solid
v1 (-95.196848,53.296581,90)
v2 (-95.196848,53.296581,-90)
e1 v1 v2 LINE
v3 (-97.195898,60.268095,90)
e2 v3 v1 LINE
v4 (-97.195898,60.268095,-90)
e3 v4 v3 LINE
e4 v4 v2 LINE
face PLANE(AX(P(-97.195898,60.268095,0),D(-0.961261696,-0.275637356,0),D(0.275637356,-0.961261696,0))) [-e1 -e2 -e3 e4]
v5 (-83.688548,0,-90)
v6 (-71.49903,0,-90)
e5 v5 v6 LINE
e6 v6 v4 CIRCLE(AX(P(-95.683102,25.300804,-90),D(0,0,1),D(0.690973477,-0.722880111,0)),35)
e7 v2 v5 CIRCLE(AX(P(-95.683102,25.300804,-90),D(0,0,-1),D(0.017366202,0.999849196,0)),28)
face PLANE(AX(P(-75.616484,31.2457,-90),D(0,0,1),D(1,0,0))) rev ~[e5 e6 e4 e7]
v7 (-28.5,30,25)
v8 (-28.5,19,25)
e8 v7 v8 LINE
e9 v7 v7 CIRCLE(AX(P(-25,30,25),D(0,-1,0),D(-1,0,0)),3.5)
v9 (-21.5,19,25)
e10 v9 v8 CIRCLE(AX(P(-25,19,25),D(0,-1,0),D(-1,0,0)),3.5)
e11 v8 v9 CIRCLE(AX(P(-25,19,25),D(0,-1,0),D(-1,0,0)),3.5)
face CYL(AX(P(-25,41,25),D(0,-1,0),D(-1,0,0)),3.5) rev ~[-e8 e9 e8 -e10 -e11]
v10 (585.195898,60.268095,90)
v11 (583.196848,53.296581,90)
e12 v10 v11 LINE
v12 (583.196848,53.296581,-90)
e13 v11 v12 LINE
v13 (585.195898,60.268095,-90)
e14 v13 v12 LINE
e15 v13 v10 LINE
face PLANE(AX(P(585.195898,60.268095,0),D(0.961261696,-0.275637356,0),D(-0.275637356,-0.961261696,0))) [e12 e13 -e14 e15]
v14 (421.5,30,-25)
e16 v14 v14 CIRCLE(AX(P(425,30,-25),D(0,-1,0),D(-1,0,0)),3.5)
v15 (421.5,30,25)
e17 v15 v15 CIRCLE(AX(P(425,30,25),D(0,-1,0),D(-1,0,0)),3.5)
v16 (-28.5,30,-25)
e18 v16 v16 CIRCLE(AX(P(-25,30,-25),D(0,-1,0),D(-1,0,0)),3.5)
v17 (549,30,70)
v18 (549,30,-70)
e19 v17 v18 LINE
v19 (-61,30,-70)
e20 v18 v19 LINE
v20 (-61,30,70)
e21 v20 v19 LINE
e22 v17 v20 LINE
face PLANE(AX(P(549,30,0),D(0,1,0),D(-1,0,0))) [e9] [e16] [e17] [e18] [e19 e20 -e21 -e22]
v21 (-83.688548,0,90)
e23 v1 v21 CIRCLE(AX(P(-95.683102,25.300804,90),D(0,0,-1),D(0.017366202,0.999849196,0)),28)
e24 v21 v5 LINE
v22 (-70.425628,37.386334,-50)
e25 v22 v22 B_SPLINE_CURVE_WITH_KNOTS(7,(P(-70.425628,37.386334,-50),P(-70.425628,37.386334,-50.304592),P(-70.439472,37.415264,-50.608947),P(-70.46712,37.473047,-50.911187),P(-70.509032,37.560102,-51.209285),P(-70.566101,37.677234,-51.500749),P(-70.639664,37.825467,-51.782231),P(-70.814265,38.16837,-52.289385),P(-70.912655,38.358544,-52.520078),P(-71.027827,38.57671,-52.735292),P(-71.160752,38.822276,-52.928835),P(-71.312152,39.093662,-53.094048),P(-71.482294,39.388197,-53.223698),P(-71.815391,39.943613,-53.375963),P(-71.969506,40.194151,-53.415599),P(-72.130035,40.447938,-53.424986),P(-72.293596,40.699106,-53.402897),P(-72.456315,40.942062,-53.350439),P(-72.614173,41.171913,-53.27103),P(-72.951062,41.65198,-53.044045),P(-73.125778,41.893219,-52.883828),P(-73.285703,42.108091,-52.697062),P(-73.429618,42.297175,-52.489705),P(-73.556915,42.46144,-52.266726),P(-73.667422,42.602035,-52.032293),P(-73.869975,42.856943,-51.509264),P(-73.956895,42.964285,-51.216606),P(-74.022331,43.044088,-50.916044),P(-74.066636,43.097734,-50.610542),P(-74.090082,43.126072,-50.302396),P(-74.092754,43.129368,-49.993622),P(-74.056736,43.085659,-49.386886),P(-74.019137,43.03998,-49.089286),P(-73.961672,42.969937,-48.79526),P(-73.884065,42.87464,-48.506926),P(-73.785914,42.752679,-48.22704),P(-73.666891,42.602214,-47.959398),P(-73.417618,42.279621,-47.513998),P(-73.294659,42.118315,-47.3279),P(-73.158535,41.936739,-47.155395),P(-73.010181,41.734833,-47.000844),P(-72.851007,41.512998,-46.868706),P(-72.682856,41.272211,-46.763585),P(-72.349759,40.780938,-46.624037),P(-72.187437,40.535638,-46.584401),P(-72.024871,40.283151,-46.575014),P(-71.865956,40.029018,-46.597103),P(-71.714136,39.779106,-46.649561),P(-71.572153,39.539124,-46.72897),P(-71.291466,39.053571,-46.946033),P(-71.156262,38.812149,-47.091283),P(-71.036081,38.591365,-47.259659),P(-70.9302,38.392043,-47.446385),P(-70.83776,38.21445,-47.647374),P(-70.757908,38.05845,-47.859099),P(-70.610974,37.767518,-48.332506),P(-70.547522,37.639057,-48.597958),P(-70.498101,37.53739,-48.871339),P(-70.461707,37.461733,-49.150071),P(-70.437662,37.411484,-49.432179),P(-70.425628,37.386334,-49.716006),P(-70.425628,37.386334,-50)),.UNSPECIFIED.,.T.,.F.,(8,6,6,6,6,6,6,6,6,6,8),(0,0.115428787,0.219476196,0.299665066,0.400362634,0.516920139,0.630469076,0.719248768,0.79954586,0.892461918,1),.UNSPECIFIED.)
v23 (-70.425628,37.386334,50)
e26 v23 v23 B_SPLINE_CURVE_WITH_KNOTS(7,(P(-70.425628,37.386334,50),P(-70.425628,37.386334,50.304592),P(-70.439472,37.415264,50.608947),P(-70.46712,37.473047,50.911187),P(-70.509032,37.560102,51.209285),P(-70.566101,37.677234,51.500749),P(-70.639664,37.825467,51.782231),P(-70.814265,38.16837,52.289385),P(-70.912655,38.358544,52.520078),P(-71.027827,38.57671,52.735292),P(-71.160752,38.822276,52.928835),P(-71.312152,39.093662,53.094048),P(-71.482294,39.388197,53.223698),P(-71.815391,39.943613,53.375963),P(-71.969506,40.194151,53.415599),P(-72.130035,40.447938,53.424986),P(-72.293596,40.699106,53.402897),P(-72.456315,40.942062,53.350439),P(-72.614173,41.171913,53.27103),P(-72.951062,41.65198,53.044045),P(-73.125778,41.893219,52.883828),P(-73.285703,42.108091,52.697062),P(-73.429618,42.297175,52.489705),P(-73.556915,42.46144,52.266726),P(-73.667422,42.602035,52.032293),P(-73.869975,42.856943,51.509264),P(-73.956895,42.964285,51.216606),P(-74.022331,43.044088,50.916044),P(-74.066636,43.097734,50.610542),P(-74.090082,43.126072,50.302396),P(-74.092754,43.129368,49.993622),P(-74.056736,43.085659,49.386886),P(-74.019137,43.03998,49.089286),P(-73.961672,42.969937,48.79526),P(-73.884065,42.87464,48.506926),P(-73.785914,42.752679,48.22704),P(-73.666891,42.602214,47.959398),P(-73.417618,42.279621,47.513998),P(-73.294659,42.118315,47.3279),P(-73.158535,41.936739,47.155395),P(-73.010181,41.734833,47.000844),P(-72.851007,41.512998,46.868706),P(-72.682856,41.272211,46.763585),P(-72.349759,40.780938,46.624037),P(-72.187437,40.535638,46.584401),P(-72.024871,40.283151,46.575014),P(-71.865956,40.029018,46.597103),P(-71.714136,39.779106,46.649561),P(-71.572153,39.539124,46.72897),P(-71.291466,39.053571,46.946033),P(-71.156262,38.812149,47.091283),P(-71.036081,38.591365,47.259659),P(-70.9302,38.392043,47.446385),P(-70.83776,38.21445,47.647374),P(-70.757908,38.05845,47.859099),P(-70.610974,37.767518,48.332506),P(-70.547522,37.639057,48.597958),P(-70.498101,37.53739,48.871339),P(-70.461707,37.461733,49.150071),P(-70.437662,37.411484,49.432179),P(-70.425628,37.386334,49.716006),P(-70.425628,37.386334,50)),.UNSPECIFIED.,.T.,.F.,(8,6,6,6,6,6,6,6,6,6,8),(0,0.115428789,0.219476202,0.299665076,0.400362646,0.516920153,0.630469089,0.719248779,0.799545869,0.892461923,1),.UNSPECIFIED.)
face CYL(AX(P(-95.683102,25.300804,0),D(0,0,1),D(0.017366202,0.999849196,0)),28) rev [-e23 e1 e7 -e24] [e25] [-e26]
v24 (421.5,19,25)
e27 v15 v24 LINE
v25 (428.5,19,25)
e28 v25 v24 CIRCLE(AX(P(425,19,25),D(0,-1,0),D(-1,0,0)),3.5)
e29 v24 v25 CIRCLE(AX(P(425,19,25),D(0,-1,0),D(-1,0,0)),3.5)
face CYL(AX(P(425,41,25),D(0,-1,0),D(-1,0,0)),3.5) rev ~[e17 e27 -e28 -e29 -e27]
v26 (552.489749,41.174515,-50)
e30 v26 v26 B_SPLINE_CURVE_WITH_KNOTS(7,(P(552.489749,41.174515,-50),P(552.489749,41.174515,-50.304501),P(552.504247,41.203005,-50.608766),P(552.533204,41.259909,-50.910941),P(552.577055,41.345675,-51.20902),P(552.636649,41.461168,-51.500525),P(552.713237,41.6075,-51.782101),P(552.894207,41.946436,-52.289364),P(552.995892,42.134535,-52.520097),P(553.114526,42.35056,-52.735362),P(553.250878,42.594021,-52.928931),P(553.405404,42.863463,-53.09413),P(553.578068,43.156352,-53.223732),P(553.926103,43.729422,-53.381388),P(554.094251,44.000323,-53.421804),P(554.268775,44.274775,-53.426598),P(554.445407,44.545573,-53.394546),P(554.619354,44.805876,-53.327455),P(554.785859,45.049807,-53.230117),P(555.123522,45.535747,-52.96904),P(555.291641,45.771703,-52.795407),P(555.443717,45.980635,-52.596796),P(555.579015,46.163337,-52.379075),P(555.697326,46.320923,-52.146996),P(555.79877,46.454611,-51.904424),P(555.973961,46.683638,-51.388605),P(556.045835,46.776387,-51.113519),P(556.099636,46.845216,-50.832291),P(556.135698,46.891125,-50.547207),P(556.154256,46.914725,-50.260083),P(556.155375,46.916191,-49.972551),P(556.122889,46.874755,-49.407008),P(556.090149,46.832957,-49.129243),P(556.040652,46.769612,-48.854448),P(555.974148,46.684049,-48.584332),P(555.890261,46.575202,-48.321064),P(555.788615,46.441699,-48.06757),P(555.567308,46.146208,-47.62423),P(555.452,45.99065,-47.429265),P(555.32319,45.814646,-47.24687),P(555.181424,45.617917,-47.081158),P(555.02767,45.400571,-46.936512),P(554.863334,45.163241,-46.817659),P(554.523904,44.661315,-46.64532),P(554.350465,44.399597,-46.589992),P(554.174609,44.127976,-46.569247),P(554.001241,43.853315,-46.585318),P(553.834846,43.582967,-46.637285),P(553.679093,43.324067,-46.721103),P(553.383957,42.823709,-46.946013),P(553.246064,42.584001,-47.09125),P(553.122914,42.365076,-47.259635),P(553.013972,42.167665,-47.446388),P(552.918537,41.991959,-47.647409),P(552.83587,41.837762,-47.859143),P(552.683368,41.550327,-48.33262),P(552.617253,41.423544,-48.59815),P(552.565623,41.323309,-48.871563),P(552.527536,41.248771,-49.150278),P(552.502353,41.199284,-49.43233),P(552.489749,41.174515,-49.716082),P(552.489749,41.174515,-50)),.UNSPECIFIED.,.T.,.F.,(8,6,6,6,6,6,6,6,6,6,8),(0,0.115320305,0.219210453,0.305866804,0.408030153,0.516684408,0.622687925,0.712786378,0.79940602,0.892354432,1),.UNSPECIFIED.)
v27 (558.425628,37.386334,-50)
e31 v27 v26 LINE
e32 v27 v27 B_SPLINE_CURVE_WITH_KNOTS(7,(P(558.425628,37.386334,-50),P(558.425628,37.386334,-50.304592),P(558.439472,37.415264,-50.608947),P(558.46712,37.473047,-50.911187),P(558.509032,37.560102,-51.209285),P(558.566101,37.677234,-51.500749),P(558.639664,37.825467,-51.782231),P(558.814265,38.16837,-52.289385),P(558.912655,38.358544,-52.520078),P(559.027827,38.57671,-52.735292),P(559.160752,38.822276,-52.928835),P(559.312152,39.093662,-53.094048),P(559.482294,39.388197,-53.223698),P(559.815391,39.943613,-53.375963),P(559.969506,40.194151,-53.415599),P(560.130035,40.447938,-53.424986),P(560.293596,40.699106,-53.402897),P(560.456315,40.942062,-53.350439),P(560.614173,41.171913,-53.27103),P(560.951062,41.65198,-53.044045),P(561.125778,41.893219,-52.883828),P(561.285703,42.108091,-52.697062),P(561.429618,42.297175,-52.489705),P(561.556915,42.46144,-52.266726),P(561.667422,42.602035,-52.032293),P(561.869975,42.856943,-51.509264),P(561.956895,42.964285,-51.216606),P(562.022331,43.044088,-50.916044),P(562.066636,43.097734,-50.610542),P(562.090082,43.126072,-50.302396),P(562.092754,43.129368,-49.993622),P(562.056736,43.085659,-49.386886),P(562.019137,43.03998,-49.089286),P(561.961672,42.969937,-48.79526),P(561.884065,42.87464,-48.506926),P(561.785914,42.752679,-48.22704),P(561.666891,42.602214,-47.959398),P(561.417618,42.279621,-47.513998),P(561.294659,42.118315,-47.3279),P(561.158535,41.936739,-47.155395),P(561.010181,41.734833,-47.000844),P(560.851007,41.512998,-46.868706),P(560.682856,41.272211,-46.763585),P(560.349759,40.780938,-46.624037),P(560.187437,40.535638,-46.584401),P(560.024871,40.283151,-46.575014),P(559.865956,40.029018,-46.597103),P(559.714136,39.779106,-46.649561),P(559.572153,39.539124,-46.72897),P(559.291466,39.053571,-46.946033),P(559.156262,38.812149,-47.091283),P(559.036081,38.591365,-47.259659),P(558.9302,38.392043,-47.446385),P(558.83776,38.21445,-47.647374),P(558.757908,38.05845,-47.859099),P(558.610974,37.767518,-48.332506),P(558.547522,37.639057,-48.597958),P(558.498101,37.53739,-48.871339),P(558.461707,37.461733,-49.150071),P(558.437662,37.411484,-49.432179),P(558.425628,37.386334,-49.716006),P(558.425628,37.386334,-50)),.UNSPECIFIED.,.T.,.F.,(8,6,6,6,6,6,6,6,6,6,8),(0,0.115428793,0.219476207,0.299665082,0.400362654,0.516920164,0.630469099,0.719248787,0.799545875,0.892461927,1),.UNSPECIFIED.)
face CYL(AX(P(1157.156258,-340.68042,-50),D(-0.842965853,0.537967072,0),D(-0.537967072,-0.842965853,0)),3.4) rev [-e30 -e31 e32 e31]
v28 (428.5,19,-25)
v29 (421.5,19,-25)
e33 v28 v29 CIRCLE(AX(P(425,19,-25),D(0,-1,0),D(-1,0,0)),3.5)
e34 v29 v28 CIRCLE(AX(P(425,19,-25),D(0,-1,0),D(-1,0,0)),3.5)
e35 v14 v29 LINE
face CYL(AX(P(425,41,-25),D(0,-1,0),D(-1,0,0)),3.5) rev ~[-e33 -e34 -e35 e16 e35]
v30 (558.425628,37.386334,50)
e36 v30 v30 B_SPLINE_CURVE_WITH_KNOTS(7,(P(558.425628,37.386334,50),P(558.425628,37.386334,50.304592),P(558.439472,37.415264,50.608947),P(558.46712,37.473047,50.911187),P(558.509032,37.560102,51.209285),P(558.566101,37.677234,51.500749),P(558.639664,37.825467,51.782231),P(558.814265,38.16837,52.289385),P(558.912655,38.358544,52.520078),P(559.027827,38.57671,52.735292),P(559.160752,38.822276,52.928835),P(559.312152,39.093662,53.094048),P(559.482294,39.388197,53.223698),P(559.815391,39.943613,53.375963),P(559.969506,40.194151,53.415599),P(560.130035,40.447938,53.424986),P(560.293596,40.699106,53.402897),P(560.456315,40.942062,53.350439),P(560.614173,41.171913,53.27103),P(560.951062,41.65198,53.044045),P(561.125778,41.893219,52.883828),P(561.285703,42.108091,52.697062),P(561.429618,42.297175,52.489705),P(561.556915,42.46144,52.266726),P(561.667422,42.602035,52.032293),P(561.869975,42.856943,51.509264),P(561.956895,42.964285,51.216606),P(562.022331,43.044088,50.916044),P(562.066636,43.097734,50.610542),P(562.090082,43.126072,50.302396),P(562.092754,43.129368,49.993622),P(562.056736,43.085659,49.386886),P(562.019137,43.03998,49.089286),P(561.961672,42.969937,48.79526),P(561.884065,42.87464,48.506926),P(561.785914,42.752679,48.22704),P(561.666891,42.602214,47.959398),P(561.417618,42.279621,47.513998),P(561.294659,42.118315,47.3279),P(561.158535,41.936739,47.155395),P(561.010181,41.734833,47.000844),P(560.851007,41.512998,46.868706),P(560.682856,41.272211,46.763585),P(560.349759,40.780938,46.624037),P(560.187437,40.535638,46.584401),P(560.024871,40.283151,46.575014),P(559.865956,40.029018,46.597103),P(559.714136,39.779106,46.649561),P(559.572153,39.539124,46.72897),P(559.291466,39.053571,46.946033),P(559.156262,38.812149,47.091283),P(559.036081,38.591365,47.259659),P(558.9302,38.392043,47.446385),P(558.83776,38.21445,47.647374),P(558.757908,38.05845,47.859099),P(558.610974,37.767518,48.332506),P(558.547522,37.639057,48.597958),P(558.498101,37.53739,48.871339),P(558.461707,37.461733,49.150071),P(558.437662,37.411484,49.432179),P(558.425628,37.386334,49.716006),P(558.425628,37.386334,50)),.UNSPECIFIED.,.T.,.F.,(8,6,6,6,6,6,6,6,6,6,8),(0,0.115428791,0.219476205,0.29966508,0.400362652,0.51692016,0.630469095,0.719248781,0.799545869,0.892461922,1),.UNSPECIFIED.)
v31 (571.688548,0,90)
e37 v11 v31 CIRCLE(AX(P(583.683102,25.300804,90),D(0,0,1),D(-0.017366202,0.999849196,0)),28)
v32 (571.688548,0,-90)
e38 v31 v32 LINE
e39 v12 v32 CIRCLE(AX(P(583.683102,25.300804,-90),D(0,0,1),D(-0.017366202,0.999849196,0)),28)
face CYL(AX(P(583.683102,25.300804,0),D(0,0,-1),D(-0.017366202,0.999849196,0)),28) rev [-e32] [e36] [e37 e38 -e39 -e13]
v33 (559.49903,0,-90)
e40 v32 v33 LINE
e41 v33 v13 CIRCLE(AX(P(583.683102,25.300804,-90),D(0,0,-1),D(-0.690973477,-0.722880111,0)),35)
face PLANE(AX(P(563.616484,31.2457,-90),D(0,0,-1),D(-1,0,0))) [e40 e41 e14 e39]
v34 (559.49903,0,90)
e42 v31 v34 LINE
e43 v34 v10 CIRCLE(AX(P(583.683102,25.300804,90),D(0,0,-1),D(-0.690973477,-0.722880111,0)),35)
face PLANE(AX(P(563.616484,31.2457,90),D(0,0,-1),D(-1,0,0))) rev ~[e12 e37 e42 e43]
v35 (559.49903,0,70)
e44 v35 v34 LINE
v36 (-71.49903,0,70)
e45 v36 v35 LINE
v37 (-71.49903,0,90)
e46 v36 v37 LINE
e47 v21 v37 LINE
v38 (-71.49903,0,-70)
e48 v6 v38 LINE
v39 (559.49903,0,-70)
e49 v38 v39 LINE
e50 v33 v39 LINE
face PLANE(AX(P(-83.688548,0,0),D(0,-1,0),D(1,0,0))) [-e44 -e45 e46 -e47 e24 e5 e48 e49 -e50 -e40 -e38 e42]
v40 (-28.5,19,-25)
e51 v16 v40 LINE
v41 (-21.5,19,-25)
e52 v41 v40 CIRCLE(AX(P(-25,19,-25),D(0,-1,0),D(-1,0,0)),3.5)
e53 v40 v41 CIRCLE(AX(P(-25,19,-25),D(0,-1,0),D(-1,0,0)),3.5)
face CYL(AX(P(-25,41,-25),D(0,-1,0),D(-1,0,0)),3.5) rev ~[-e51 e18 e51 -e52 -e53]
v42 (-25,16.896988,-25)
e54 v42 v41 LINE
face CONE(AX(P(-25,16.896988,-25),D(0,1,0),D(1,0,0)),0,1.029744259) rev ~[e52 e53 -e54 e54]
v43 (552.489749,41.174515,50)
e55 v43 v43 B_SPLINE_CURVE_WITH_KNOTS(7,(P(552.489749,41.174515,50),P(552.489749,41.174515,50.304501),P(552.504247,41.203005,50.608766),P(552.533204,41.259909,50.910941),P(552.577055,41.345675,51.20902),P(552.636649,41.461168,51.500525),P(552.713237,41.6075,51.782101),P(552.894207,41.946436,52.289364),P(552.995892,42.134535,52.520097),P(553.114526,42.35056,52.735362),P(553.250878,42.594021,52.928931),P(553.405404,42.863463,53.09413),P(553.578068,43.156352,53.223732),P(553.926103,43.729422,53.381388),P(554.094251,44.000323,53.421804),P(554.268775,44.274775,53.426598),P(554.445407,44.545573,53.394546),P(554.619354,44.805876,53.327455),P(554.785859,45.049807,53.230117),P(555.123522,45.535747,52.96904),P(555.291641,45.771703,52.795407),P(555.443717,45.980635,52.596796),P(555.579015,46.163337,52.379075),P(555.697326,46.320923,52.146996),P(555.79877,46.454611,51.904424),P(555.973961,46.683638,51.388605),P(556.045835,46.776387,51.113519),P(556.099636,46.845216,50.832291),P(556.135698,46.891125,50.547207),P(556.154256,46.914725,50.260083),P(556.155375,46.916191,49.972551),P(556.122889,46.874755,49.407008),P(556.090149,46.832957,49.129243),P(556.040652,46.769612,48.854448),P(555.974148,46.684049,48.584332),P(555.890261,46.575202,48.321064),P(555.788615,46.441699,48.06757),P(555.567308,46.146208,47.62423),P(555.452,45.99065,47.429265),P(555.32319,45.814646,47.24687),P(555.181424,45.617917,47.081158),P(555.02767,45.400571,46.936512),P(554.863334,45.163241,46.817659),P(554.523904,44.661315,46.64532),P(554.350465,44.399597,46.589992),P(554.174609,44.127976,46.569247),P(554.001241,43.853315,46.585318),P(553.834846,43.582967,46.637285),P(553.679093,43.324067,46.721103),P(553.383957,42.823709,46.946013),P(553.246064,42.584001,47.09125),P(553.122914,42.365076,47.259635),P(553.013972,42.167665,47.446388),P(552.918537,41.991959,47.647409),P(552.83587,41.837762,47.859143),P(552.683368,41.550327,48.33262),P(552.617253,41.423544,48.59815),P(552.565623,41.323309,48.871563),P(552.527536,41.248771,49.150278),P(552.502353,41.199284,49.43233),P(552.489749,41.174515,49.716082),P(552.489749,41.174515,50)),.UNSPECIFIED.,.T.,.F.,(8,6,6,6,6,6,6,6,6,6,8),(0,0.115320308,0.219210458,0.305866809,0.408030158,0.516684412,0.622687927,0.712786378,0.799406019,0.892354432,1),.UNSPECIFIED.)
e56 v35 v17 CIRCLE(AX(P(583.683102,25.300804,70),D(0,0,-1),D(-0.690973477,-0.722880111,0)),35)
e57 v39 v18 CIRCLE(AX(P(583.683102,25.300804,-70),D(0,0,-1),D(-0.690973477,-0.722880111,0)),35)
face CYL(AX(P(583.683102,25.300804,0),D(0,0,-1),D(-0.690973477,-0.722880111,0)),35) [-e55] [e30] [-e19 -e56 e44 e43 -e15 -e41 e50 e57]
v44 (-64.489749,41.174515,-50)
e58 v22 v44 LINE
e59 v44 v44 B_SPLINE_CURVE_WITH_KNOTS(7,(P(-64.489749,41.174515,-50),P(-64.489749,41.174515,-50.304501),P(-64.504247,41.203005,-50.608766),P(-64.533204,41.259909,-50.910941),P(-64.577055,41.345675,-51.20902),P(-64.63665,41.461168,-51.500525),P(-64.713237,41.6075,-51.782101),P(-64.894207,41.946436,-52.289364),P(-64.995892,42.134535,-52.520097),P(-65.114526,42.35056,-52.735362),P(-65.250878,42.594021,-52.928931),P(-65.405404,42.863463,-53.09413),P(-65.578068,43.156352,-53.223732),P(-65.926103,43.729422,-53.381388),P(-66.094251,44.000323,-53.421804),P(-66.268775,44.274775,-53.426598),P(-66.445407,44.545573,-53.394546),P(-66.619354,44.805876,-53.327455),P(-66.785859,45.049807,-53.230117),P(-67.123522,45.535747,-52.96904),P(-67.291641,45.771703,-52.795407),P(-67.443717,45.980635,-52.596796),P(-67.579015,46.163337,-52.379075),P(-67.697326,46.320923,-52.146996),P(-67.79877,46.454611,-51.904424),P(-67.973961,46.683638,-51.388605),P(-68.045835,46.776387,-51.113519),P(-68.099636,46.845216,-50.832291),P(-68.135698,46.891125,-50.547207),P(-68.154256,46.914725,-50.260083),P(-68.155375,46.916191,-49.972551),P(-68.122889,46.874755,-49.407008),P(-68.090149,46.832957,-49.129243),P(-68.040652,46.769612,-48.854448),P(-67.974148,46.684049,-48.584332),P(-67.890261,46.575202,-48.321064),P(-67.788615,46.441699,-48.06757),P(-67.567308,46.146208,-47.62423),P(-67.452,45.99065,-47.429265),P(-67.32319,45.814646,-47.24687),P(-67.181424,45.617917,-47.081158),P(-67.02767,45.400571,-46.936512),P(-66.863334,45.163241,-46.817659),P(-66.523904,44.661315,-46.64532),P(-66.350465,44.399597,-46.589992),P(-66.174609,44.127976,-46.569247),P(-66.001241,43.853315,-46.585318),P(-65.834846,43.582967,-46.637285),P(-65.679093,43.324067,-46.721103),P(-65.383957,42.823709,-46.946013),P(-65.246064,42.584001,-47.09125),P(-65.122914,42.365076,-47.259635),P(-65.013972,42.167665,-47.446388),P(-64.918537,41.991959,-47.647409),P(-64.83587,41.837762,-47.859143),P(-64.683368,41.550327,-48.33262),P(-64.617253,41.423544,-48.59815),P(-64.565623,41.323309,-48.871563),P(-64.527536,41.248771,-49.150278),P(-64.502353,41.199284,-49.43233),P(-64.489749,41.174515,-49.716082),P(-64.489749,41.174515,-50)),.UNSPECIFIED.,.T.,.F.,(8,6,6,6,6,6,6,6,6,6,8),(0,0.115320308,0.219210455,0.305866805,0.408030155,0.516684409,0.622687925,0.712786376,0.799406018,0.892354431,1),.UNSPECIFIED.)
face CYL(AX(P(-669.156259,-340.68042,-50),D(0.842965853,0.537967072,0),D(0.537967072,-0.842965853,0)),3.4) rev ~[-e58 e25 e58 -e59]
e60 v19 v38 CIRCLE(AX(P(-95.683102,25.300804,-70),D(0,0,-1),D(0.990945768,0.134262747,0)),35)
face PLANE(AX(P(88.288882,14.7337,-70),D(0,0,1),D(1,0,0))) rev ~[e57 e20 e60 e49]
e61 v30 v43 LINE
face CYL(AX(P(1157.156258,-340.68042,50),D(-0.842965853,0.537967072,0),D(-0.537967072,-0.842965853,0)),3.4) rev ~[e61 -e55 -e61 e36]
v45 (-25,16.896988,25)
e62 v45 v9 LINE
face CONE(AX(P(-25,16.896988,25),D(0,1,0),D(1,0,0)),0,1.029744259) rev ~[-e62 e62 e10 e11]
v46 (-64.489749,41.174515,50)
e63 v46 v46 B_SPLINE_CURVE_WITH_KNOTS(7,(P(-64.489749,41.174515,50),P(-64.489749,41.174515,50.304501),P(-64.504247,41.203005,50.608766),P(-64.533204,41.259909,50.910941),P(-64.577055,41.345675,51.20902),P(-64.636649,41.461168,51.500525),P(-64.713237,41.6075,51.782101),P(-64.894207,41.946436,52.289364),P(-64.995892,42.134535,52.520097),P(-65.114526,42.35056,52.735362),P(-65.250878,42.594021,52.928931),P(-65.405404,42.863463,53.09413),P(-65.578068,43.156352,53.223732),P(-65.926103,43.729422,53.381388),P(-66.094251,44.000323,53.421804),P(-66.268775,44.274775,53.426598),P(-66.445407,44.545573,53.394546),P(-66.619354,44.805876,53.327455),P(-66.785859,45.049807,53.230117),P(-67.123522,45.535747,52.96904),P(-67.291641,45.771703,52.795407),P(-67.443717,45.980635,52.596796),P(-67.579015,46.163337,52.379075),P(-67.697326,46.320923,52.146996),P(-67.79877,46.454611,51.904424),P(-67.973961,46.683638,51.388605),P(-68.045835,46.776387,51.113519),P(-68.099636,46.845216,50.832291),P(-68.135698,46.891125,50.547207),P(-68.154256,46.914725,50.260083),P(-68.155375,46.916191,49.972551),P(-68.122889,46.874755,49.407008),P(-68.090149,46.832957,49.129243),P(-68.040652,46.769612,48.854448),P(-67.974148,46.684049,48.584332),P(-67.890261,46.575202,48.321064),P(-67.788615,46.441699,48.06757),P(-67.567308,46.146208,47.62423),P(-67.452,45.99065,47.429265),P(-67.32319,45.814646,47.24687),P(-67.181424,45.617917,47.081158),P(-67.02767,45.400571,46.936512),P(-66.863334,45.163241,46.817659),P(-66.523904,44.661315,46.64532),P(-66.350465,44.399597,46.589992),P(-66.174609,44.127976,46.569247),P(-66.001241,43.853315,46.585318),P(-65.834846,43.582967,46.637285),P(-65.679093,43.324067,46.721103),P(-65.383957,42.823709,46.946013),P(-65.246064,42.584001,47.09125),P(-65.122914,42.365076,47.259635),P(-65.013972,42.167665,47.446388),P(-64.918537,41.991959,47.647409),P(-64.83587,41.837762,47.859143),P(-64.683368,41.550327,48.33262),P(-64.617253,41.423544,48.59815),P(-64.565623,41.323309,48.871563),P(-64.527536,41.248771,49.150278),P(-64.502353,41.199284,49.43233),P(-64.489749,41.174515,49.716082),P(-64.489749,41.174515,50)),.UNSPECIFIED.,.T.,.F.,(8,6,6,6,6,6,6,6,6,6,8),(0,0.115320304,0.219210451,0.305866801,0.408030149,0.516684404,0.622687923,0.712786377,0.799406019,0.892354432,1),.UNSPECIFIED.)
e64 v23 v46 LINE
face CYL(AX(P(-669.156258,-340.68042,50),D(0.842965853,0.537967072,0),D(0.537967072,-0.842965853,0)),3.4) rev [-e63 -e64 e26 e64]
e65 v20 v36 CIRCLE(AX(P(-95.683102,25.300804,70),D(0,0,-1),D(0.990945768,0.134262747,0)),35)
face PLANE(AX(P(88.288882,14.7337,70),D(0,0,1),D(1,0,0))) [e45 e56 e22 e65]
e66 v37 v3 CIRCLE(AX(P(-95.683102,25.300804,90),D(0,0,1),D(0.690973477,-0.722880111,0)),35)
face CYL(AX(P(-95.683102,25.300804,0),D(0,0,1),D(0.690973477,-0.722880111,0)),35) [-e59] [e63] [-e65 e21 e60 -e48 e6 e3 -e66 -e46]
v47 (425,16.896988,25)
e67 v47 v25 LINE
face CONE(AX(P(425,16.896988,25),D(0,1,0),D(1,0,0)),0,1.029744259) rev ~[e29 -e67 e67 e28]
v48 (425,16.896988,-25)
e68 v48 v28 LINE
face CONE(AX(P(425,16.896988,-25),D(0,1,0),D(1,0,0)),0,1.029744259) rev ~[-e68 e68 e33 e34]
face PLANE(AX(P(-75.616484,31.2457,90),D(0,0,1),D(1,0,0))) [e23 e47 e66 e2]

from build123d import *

# Parameters (mm, degrees)
BOSS_EXTRUDE3_DEPTH       = 70
BOSS_EXTRUDE4_DEPTH       = 90
M8_TAPPED_HOLE2_D         = 6.8
MIRROR5_COPY_1_D          = 6.8
M8X1_0_TAPPED_HOLE1_D     = 7
M8X1_0_TAPPED_HOLE1_DEPTH = 11
M8X1_0_TAPPED_HOLE1_TIP   = 2.103012167
M8X1_0_TAPPED_HOLE2_D     = 7
M8X1_0_TAPPED_HOLE2_DEPTH = 11
M8X1_0_TAPPED_HOLE2_TIP   = 2.103012167


with BuildPart() as part:
    # Sketch2 → Boss-Extrude3 (new, symmetric)
    with BuildSketch(Plane.XY):
        with BuildLine():
            ThreePointArc((-61, 30), (-62.647726429, 13.739490403), (-71.499030185, 0))
            Line((-71.499030185, 0), (244, 0))
            Line((244, 0), (244, 30))
            Line((244, 30), (-61, 30))
        make_face()
        with BuildLine():
            Line((244, 30), (244, 0))
            Line((244, 0), (559.499030185, 0))
            ThreePointArc((559.499030185, 0), (550.647726429, 13.739490403), (549, 30))
            Line((549, 30), (244, 30))
        make_face()
    extrude(amount=BOSS_EXTRUDE3_DEPTH, both=True)

    # Sketch2<3> → Boss-Extrude4 (add, symmetric)
    with BuildSketch(Plane.XY):
        with BuildLine():
            Line((585.195897576, 60.268095002), (583.196848208, 53.296581361))
            ThreePointArc((583.196848208, 53.296581361), (556.31388494, 31.210623184), (571.688547964, 0))
            Line((571.688547964, 0), (559.499030185, 0))
            ThreePointArc((559.499030185, 0), (551.487488703, 39.028239626), (585.195897576, 60.268095002))
        make_face()
        with BuildLine():
            Line((-83.688547964, 0), (-71.499030185, 0))
            ThreePointArc((-71.499030185, 0), (-63.487488703, 39.028239626), (-97.195897576, 60.268095002))
            Line((-97.195897576, 60.268095002), (-95.196848208, 53.296581361))
            ThreePointArc((-95.196848208, 53.296581361), (-68.31388494, 31.210623184), (-83.688547964, 0))
        make_face()
    extrude(amount=BOSS_EXTRUDE4_DEPTH, both=True)

    # M8 Tapped Hole2 (through all)
    with Locations(Plane(origin=(560.080057986, 40.36388188, 50), x_dir=(0.537967071811, 0.842965853191, 0), z_dir=(0.842965853191, -0.537967071811, 0))):
        with Locations((1e-09, 0)):
            m8_tapped_hole2 = Hole(M8_TAPPED_HOLE2_D / 2)

    # Mirror4: M8 Tapped Hole2 across plane
    add(m8_tapped_hole2.mirror(Plane.XY), mode=Mode.SUBTRACT)

    # Mirror5: M8 Tapped Hole2 across plane
    add(m8_tapped_hole2.mirror(Plane.ZY.offset(-244)), mode=Mode.SUBTRACT)

    # Mirror5 copy 1 (through all)
    with Locations(Plane(origin=(-72.080057986, 40.36388188, -50), x_dir=(-0.5379670718110001, 0.8429658531909999, 0), z_dir=(-0.8429658531909999, -0.5379670718110001, 0))):
        with Locations((1e-09, 0)):
            Hole(MIRROR5_COPY_1_D / 2)

    # M8x1.0 Tapped Hole1
    with Locations(Plane(origin=(0, 30, 0), x_dir=(1, 0, 0), z_dir=(0, 1, 0))):
        with Locations((425, 25), (425, -25)):
            Hole(M8X1_0_TAPPED_HOLE1_D / 2, depth=M8X1_0_TAPPED_HOLE1_DEPTH)
            with Locations((0, 0, -(M8X1_0_TAPPED_HOLE1_DEPTH + M8X1_0_TAPPED_HOLE1_TIP / 2))):  # 118° drill point
                Cone(0, M8X1_0_TAPPED_HOLE1_D / 2, M8X1_0_TAPPED_HOLE1_TIP, mode=Mode.SUBTRACT)

    # M8x1.0 Tapped Hole2
    with Locations(Plane(origin=(0, 30, 0), x_dir=(1, 0, 0), z_dir=(0, 1, 0))):
        with Locations((-25, 25), (-25, -25)):
            Hole(M8X1_0_TAPPED_HOLE2_D / 2, depth=M8X1_0_TAPPED_HOLE2_DEPTH)
            with Locations((0, 0, -(M8X1_0_TAPPED_HOLE2_DEPTH + M8X1_0_TAPPED_HOLE2_TIP / 2))):  # 118° drill point
                Cone(0, M8X1_0_TAPPED_HOLE2_D / 2, M8X1_0_TAPPED_HOLE2_TIP, mode=Mode.SUBTRACT)


solid = part.part
